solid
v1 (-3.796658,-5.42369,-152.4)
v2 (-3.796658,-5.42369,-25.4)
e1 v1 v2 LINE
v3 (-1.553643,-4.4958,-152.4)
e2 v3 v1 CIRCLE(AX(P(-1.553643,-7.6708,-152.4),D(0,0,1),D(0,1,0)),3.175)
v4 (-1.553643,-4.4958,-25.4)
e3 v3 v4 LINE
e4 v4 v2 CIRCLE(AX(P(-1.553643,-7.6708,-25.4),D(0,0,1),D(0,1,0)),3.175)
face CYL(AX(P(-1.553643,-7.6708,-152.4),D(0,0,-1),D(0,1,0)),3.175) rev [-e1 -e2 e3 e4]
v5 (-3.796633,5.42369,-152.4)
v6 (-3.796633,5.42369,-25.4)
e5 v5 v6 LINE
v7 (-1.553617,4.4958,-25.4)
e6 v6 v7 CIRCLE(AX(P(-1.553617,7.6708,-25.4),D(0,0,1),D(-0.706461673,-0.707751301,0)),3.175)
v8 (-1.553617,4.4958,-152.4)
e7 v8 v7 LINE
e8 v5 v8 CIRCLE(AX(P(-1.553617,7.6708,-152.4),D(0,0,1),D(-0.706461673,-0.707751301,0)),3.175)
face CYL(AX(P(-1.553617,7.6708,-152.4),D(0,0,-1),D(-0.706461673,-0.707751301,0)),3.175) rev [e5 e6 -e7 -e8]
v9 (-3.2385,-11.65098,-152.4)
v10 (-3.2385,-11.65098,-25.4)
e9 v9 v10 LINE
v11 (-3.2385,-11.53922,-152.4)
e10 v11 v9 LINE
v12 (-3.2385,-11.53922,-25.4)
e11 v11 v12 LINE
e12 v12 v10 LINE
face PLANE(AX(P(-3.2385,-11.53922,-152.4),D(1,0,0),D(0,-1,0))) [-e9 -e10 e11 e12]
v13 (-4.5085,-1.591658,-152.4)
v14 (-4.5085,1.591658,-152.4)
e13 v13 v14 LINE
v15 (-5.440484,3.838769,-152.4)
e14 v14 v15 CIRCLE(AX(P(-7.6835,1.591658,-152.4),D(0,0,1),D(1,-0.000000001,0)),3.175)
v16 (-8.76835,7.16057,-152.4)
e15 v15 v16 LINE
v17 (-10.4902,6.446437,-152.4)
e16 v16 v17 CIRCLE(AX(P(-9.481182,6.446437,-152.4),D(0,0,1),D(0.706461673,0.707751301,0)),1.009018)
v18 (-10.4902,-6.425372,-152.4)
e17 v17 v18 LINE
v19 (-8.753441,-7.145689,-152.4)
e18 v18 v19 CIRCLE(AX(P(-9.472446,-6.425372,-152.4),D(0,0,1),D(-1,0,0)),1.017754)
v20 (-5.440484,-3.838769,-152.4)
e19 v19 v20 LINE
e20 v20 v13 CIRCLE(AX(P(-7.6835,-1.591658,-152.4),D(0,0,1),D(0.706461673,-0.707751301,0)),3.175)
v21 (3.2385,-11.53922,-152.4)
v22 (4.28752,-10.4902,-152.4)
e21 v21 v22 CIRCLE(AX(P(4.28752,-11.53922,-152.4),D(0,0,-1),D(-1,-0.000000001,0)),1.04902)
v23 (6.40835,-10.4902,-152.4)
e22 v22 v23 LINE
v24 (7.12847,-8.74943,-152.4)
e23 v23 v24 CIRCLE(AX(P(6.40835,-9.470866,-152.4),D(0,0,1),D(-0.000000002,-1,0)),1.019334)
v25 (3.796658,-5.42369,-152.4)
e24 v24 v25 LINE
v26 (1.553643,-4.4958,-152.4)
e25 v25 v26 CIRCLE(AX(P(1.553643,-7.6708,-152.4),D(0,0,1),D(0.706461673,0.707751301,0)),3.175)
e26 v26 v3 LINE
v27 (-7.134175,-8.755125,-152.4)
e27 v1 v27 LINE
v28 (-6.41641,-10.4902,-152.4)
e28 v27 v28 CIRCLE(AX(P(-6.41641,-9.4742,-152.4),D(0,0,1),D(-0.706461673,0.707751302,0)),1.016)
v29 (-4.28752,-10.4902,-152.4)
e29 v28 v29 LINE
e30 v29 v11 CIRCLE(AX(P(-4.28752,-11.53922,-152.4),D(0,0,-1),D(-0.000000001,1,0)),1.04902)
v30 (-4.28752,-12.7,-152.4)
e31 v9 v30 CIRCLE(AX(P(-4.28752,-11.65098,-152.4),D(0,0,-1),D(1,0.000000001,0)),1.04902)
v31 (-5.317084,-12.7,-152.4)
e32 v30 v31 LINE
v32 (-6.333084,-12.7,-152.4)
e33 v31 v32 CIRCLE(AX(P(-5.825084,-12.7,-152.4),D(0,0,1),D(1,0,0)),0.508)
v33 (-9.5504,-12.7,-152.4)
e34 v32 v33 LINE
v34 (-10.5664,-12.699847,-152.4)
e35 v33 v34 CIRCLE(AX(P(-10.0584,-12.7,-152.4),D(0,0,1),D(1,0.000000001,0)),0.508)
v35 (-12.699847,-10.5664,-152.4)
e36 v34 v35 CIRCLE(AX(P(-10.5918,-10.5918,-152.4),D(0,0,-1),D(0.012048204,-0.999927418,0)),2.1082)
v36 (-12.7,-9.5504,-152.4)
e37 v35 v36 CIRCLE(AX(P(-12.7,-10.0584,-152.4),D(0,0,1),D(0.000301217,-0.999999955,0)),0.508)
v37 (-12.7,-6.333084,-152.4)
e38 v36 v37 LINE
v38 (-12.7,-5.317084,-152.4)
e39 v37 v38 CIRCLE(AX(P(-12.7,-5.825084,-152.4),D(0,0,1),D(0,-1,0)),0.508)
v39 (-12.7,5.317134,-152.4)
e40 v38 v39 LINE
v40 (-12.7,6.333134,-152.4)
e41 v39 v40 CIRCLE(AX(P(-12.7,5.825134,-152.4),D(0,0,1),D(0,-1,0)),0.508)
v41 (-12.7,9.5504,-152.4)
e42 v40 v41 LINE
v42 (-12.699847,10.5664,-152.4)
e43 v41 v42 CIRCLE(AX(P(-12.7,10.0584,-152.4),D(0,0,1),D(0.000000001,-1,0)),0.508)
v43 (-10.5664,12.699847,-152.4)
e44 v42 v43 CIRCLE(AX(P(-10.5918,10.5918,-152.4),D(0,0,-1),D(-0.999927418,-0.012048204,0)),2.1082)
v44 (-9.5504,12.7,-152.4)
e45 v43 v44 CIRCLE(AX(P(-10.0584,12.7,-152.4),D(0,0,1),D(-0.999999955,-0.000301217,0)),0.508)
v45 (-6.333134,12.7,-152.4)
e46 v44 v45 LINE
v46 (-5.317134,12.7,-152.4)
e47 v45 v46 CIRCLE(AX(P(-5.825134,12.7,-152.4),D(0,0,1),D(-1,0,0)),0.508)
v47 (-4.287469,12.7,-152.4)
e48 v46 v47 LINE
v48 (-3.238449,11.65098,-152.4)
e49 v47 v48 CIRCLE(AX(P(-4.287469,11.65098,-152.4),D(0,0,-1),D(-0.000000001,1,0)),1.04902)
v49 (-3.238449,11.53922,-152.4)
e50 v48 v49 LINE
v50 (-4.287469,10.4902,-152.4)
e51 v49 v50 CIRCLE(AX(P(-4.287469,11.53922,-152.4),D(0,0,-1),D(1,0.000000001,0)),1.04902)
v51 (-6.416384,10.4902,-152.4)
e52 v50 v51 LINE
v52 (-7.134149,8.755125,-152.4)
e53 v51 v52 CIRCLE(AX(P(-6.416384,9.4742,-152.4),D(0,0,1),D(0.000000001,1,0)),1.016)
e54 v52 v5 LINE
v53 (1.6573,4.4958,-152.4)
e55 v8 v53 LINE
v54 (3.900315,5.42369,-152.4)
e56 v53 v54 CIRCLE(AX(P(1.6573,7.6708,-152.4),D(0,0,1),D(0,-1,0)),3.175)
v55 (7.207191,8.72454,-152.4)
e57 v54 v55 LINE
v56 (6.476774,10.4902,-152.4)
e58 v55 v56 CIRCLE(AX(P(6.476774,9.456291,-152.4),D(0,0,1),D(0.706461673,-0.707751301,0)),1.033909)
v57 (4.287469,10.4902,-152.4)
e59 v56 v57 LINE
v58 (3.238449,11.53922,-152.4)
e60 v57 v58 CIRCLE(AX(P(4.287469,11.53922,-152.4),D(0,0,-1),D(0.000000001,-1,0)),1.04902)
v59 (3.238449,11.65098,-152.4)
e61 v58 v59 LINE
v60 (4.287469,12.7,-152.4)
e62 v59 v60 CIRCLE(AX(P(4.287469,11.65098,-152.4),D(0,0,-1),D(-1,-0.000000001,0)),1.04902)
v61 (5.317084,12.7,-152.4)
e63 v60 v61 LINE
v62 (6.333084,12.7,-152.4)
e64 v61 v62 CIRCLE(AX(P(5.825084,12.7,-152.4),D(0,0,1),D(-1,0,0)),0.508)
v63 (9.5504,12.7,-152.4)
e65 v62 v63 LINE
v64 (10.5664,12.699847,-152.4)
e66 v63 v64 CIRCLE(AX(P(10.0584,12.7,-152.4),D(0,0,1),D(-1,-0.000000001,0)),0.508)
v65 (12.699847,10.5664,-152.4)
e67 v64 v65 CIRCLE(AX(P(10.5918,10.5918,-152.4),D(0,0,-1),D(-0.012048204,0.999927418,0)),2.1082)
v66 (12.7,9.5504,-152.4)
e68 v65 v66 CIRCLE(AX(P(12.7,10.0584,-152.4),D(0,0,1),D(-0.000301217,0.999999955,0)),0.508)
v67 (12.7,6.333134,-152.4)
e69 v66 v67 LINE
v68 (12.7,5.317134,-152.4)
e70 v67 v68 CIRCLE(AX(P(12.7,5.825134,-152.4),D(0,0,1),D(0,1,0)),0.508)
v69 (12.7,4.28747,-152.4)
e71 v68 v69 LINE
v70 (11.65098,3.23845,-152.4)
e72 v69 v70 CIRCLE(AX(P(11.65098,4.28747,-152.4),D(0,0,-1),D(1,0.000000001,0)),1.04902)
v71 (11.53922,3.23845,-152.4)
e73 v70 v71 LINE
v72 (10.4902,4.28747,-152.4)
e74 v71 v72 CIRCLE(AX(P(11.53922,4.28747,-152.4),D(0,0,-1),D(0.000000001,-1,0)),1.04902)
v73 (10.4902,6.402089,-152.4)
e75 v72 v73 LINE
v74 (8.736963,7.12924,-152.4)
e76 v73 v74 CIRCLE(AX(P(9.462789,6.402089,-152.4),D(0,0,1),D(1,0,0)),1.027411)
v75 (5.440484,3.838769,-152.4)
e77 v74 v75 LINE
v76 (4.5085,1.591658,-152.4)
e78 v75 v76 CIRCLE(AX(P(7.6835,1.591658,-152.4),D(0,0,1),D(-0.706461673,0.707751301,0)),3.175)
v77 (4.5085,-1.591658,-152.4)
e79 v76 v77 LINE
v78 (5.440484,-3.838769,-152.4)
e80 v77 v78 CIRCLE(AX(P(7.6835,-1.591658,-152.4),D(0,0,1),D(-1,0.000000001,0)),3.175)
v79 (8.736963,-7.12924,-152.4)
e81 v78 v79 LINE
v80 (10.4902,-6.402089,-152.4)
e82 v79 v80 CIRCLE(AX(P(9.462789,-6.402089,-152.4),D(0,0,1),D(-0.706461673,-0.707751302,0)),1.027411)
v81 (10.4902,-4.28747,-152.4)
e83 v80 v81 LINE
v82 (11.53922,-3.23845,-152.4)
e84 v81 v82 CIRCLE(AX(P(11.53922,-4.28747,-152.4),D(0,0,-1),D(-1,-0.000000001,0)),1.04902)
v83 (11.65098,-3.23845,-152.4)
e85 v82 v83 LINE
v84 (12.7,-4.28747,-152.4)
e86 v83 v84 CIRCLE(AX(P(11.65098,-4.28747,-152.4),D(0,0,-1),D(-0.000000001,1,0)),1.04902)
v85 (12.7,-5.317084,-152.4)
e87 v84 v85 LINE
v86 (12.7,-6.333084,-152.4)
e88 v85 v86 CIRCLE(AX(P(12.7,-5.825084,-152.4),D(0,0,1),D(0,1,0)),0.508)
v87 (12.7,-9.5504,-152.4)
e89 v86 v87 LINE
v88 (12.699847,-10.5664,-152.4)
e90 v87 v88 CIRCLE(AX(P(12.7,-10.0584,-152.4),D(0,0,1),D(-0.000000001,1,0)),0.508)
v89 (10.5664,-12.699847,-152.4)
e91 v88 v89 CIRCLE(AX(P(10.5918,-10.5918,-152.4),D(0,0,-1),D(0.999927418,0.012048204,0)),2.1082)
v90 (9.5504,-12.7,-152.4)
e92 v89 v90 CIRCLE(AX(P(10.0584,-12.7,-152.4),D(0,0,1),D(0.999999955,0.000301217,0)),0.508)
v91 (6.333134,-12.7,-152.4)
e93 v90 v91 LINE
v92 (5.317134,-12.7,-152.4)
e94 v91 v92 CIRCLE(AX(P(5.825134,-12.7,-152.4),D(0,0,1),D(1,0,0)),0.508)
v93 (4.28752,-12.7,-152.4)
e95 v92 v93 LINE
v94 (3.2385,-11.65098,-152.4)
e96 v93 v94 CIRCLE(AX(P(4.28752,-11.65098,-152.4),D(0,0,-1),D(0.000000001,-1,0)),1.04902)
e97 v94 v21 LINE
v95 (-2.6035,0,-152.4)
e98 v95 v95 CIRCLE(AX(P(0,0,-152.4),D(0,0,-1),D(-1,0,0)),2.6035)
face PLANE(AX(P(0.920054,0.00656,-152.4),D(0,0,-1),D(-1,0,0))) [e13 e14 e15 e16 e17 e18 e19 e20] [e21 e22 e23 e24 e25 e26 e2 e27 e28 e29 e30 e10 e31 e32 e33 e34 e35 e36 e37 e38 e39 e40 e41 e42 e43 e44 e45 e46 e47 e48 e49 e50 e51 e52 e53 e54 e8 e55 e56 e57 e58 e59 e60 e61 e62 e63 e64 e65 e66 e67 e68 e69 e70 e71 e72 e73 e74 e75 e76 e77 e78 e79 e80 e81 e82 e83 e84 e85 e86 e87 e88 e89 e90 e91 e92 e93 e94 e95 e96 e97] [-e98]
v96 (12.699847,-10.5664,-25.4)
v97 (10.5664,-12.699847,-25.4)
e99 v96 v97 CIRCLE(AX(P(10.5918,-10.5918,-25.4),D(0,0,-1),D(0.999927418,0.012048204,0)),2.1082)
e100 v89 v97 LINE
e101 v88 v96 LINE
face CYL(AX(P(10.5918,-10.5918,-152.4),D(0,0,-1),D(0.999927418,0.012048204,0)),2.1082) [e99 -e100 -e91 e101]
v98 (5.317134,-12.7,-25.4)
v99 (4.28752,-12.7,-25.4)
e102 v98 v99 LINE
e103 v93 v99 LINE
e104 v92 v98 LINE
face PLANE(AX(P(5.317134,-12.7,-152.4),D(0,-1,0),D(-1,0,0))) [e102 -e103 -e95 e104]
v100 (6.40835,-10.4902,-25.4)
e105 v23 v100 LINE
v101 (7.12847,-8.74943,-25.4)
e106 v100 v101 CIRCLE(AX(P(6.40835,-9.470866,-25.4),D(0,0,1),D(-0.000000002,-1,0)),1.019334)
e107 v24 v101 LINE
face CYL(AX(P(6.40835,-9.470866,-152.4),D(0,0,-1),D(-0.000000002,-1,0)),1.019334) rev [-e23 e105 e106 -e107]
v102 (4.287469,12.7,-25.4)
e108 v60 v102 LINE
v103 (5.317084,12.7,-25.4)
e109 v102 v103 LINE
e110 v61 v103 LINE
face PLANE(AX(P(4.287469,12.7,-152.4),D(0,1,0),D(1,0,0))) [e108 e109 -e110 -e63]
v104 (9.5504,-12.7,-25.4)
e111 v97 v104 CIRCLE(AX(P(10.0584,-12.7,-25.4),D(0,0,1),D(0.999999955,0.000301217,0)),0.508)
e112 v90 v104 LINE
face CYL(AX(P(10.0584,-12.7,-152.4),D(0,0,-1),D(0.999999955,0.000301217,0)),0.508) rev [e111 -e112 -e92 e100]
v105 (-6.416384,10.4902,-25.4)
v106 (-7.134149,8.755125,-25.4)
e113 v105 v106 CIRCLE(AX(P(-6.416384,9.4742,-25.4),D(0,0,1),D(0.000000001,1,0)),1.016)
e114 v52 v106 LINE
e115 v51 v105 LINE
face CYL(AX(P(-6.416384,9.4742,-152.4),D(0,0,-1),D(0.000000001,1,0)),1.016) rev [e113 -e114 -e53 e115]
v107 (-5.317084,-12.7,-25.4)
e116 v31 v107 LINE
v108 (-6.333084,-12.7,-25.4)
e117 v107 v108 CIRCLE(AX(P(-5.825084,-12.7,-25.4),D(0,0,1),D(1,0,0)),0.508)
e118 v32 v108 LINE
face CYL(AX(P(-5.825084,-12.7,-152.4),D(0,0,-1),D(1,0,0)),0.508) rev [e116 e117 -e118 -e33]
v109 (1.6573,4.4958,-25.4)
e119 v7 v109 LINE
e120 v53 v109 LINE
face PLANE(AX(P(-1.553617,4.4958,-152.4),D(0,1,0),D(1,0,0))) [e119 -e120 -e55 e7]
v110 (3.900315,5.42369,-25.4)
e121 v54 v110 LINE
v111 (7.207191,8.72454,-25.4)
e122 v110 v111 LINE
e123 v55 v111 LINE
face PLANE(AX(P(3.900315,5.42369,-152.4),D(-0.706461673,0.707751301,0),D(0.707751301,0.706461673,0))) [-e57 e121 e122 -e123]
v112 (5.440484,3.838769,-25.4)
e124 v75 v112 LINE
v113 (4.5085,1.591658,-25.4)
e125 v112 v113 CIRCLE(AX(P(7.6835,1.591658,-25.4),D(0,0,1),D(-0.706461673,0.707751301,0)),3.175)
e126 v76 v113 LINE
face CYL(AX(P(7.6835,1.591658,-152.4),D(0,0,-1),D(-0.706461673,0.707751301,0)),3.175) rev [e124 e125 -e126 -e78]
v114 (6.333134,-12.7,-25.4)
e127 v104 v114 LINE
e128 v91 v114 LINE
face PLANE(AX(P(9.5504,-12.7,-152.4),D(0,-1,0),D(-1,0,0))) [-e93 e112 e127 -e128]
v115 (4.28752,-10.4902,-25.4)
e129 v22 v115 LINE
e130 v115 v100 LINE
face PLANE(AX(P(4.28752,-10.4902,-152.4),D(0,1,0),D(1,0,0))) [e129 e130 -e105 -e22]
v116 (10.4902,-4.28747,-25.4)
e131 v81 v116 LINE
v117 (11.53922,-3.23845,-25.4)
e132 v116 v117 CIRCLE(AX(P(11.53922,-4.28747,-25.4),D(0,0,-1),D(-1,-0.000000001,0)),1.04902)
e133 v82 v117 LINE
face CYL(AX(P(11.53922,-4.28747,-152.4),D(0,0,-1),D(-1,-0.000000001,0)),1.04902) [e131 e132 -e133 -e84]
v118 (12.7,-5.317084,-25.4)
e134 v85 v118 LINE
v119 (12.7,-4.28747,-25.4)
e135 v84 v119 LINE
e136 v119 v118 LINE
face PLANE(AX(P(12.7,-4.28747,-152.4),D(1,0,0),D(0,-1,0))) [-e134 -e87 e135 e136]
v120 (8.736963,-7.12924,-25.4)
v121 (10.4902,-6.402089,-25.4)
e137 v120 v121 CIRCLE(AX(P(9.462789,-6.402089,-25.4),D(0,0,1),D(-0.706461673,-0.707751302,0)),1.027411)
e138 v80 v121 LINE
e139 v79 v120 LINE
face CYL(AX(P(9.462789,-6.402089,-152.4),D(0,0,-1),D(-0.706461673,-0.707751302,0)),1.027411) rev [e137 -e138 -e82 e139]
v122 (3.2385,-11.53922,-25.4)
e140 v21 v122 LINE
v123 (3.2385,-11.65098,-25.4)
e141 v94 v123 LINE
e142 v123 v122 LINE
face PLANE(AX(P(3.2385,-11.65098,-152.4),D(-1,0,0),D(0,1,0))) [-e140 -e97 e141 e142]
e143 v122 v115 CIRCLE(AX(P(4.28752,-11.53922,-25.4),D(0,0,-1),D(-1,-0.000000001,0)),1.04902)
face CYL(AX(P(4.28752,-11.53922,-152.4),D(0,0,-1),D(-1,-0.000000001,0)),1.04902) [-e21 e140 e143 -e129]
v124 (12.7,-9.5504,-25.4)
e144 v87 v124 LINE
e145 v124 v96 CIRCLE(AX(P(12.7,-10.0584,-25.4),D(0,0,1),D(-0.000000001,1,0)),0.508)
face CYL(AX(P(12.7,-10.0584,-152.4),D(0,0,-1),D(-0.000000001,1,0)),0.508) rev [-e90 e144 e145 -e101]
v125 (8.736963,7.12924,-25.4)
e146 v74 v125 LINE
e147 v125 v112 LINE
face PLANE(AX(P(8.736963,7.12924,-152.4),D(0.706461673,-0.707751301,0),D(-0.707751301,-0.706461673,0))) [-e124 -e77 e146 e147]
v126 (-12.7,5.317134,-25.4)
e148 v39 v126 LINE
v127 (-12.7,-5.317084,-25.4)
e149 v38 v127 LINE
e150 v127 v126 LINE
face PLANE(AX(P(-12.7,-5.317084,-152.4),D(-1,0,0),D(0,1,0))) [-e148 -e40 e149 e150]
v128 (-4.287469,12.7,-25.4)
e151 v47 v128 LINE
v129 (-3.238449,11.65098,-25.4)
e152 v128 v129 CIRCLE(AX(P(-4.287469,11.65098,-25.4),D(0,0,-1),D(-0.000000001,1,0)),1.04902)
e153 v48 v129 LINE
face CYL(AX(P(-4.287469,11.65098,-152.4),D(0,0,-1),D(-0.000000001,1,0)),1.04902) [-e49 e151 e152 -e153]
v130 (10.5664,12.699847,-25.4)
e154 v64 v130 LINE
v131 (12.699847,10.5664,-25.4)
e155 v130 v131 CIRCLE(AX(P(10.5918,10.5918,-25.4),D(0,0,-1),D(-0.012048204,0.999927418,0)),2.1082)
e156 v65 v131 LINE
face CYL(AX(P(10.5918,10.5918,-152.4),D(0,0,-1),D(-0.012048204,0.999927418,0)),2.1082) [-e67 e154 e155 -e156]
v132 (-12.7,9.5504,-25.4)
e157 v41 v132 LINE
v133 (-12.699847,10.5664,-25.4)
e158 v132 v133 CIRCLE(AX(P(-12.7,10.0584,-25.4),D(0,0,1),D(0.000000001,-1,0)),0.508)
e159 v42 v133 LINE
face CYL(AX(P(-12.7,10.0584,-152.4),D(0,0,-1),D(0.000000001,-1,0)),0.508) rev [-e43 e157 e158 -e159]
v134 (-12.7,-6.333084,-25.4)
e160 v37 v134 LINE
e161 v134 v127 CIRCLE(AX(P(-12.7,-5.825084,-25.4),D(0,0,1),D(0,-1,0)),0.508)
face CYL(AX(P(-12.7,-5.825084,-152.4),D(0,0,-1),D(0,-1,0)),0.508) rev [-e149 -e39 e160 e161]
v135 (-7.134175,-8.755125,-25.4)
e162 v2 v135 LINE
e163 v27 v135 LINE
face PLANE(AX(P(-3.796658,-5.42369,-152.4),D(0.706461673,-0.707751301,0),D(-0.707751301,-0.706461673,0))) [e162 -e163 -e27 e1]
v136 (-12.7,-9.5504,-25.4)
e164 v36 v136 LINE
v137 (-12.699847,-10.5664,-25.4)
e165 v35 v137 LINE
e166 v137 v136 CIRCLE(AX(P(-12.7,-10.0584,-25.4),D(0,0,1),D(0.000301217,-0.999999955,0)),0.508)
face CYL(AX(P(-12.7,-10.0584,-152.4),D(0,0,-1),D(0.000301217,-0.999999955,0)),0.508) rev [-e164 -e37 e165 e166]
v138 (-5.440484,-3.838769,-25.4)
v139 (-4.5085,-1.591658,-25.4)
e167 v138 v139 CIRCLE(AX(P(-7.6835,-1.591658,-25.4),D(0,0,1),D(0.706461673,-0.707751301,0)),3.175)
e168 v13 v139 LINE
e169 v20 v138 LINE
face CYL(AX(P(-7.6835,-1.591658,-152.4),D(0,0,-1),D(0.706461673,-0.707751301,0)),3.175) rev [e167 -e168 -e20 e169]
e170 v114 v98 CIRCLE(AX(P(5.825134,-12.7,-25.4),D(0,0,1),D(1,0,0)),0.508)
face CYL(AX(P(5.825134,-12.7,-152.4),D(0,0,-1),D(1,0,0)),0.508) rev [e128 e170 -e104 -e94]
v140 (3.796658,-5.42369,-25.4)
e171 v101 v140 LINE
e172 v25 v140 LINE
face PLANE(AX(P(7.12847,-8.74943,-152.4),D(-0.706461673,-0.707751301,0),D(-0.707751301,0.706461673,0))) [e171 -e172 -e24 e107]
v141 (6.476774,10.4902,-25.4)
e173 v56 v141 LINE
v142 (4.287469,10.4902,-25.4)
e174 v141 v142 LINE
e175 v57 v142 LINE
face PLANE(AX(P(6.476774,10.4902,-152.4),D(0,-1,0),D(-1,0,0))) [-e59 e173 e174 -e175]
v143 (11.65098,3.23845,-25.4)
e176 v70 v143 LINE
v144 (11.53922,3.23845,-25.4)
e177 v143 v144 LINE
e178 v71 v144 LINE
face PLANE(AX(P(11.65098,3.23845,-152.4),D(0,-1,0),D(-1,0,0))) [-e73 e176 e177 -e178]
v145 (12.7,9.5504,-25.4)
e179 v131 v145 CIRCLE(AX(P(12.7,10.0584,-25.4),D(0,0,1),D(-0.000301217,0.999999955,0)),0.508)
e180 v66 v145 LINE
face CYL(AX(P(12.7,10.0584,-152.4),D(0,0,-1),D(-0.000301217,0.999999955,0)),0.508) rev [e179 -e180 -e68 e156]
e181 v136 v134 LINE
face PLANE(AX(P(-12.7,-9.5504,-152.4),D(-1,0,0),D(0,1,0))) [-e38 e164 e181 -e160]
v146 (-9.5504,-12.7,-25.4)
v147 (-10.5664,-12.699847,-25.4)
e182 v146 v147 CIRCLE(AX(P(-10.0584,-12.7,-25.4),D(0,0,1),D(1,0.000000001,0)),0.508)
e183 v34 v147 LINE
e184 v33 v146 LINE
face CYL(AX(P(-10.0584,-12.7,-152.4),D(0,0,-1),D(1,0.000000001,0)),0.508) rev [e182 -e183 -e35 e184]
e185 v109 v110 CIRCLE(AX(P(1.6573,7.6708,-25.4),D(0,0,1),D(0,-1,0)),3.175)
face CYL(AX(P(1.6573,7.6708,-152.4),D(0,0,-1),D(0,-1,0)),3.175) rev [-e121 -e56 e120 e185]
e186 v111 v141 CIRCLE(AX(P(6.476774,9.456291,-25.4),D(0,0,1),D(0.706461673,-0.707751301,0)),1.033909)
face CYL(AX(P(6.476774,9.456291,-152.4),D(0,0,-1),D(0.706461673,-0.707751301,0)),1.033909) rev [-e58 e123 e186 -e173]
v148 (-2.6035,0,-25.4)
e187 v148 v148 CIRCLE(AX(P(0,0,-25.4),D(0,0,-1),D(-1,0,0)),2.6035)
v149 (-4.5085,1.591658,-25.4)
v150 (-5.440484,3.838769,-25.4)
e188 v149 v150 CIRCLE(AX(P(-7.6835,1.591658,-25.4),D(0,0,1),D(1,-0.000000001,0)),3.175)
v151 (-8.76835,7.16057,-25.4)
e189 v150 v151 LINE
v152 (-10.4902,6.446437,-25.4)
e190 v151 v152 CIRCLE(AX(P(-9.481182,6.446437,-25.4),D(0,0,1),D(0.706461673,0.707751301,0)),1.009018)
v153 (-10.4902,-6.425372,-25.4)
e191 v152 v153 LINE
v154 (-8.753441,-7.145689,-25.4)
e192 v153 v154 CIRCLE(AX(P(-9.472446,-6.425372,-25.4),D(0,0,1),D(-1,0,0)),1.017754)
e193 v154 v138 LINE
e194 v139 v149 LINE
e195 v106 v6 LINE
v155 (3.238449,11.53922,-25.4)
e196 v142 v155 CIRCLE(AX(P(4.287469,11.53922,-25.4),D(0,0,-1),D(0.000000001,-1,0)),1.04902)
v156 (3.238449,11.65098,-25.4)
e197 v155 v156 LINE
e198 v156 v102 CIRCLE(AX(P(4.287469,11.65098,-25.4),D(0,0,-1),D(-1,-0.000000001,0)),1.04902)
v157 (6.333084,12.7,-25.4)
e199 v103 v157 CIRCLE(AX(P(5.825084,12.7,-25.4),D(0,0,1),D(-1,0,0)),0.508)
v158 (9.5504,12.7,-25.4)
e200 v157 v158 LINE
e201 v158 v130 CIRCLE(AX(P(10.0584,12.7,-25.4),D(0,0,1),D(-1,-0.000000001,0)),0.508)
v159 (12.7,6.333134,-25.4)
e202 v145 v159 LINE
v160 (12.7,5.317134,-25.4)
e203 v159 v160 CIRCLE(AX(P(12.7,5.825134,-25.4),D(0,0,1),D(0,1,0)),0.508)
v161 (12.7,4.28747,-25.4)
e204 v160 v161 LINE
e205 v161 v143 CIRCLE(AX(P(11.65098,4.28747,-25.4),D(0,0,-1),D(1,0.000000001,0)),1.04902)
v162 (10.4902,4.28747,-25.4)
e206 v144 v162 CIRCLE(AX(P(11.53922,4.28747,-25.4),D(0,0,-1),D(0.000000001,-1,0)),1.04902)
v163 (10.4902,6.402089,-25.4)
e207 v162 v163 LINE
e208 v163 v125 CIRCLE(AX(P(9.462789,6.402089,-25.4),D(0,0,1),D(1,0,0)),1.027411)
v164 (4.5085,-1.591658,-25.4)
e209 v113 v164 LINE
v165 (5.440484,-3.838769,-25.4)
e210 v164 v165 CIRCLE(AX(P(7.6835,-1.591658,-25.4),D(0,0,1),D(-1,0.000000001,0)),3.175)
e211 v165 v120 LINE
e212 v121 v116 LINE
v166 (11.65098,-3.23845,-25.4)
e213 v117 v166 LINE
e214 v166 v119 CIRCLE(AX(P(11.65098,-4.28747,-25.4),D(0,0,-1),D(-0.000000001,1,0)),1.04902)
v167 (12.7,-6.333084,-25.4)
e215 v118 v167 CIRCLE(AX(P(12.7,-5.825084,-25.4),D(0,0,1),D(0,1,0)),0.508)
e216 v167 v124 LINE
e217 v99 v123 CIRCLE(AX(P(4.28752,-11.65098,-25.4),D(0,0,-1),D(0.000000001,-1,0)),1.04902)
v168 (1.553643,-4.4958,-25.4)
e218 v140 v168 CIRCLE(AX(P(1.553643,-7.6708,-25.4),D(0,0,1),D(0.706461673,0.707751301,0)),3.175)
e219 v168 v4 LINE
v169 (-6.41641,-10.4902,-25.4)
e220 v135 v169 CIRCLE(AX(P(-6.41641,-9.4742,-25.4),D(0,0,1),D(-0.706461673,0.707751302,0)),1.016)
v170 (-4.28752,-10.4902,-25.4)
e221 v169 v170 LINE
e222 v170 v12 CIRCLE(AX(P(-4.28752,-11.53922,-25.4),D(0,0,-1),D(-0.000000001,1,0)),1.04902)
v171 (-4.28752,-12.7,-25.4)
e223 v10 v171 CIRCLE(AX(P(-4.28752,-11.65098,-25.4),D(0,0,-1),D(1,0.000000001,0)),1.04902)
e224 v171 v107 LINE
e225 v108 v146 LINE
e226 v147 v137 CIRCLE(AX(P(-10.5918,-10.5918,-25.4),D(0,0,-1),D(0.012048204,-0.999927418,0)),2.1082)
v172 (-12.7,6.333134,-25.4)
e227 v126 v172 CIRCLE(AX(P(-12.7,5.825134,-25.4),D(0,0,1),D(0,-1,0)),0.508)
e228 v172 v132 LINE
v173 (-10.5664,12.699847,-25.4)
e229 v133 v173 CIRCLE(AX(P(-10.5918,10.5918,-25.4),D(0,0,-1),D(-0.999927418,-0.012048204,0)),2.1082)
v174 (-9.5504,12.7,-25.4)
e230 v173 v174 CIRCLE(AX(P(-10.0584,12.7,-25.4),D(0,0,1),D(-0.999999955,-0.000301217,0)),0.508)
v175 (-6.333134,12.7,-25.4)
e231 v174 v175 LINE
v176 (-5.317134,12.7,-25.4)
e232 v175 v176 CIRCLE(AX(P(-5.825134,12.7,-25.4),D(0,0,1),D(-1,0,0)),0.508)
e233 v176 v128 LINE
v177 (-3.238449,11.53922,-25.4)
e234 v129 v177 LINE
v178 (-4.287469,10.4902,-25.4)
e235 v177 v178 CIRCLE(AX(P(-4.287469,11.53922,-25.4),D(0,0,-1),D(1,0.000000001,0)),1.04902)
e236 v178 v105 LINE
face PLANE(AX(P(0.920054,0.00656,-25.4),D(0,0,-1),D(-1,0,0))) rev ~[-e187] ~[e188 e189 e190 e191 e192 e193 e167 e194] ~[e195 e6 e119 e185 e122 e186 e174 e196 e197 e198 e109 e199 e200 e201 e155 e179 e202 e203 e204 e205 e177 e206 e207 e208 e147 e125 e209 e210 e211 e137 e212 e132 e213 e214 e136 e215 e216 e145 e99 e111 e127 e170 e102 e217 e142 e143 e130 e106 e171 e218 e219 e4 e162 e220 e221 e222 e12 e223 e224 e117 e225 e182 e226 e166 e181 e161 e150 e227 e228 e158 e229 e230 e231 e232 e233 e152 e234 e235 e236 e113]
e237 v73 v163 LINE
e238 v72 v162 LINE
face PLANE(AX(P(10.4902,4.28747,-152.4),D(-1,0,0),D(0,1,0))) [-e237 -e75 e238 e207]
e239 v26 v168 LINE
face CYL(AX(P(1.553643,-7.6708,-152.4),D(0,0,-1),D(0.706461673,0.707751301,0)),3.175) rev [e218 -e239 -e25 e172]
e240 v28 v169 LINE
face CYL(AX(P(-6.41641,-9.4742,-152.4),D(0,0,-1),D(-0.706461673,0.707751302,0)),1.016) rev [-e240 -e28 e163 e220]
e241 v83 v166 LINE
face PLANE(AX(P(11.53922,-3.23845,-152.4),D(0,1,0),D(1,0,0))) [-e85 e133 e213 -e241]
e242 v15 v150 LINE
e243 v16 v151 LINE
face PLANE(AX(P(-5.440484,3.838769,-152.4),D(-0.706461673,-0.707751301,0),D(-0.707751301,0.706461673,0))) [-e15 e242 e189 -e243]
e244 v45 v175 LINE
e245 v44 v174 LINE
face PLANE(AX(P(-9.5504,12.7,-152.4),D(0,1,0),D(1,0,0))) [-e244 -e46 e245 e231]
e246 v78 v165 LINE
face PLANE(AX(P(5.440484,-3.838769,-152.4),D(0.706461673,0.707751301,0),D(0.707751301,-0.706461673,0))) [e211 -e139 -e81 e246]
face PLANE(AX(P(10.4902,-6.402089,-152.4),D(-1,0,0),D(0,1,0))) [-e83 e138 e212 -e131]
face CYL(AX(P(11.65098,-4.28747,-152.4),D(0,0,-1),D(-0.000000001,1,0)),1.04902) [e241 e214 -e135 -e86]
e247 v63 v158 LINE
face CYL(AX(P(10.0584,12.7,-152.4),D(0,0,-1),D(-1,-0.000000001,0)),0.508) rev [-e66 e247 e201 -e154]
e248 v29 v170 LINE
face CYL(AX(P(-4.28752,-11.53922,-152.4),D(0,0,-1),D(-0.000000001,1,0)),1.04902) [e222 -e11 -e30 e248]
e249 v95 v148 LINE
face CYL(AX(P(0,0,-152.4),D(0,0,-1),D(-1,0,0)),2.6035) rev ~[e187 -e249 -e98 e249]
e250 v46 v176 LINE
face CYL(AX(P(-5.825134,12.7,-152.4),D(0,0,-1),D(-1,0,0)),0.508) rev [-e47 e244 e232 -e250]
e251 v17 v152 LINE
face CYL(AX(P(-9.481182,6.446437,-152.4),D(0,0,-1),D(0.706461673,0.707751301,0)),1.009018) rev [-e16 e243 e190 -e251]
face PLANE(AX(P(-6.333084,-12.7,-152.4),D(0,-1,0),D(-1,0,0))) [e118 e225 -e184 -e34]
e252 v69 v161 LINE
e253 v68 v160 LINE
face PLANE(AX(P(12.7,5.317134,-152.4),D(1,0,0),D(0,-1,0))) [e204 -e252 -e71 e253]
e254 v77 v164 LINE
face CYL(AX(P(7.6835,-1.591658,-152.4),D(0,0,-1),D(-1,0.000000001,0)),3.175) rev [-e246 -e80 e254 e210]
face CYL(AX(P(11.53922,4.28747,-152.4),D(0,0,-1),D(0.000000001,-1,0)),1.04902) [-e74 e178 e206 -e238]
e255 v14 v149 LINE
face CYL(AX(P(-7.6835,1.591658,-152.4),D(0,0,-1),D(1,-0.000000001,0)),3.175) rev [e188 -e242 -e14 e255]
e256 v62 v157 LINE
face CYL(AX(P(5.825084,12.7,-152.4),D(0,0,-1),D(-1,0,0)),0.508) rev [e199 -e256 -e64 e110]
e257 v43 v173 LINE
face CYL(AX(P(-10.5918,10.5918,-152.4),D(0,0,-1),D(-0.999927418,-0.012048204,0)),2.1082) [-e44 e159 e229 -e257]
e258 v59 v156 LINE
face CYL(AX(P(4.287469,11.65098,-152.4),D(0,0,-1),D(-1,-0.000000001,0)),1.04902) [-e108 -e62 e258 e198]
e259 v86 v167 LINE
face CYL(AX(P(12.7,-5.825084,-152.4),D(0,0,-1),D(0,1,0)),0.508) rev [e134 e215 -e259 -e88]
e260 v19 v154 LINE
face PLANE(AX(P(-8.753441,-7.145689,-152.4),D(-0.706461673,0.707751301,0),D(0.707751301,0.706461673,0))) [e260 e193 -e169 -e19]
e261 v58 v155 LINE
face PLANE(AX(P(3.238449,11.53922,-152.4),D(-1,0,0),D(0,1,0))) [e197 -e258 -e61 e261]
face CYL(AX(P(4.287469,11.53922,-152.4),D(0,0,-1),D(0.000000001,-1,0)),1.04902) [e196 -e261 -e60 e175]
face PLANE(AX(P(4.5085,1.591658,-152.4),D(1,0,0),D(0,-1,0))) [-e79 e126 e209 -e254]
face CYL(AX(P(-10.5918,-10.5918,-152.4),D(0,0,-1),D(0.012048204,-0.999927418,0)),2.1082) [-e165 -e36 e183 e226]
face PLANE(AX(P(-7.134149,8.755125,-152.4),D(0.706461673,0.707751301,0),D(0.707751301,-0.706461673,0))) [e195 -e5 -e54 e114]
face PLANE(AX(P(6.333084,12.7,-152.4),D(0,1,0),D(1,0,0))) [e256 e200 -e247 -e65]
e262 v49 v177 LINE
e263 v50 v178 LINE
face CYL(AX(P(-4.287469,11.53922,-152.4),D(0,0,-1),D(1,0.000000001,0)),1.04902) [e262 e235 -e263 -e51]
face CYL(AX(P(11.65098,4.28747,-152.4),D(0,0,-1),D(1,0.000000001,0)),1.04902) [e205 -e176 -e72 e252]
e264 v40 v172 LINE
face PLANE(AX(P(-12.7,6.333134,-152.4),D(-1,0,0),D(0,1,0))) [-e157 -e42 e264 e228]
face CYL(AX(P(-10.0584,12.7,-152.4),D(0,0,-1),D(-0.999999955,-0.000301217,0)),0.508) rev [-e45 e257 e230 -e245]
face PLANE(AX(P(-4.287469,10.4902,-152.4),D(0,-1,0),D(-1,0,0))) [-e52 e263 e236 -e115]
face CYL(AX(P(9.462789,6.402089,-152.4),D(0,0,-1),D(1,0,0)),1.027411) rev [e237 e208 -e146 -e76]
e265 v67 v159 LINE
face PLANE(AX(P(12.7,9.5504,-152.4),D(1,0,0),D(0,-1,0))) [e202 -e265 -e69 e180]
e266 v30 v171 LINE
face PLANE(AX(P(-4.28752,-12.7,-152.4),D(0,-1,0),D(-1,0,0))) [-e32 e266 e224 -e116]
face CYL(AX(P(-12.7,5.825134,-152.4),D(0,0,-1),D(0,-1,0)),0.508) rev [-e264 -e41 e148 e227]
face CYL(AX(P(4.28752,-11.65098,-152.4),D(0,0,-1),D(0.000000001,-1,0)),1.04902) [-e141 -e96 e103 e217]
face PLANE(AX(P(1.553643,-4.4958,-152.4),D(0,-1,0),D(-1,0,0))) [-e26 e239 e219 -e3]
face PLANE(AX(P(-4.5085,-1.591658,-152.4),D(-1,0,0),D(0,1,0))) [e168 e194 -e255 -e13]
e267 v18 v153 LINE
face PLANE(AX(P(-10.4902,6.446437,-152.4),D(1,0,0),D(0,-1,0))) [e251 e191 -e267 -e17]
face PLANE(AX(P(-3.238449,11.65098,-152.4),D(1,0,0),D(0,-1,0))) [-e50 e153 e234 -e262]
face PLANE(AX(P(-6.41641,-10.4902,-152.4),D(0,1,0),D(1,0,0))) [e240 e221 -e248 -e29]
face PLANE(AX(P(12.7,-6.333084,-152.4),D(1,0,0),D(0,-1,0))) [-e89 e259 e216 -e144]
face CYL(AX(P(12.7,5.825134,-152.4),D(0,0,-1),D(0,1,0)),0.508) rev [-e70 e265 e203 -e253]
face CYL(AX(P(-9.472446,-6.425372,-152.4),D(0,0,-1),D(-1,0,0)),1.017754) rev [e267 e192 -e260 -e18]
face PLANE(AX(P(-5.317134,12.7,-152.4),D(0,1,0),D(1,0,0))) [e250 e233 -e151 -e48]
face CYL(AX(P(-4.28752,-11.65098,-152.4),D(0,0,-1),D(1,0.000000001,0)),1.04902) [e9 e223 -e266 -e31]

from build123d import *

# Parameters (mm, degrees)
SKETCH1_R           = 2.6035
BOSS_EXTRUDE1_DEPTH = 127


with BuildPart() as part:
    # Sketch1 → Boss-Extrude1 (new body)
    with BuildSketch(Plane(origin=(0, 0, -152.4), x_dir=(-1, 0, 0), z_dir=(0, 0, -1))):
        with BuildLine():
            Line((6.416409763, -10.4902), (4.28752, -10.4902))
            ThreePointArc((4.28752, -10.4902), (3.545750844, -10.797450844), (3.2385, -11.53922))
            Line((3.2385, -11.53922), (3.2385, -11.65098))
            ThreePointArc((3.2385, -11.65098), (3.545750844, -12.392749156), (4.28752, -12.7))
            Line((4.28752, -12.7), (5.3170836, -12.7))
            ThreePointArc((5.3170836, -12.7), (5.8250836, -12.192), (6.3330836, -12.7))
            Line((6.3330836, -12.7), (9.5504, -12.7))
            ThreePointArc((9.5504, -12.7), (10.058323491, -12.192000006), (10.566399977, -12.699846982))
            ThreePointArc((10.566399977, -12.699846982), (12.082522516, -12.082522516), (12.699846982, -10.566399977))
            ThreePointArc((12.699846982, -10.566399977), (12.192000006, -10.058323491), (12.7, -9.5504))
            Line((12.7, -9.5504), (12.7, -6.3330836))
            ThreePointArc((12.7, -6.3330836), (12.192, -5.8250836), (12.7, -5.3170836))
            Line((12.7, -5.3170836), (12.7, 5.3171344))
            ThreePointArc((12.7, 5.3171344), (12.192, 5.8251344), (12.7, 6.3331344))
            Line((12.7, 6.3331344), (12.7, 9.5504))
            ThreePointArc((12.7, 9.5504), (12.192000006, 10.058323491), (12.699846982, 10.566399977))
            ThreePointArc((12.699846982, 10.566399977), (12.082522516, 12.082522516), (10.566399977, 12.699846982))
            ThreePointArc((10.566399977, 12.699846982), (10.058323491, 12.192000006), (9.5504, 12.7))
            Line((9.5504, 12.7), (6.3331344, 12.7))
            ThreePointArc((6.3331344, 12.7), (5.8251344, 12.192), (5.3171344, 12.7))
            Line((5.3171344, 12.7), (4.2874692, 12.7))
            ThreePointArc((4.2874692, 12.7), (3.545700044, 12.392749156), (3.2384492, 11.65098))
            Line((3.2384492, 11.65098), (3.2384492, 11.53922))
            ThreePointArc((3.2384492, 11.53922), (3.545700044, 10.797450844), (4.2874692, 10.4902))
            Line((4.2874692, 10.4902), (6.416384363, 10.4902))
            ThreePointArc((6.416384363, 10.4902), (7.355223148, 9.862578342), (7.134149423, 8.755124678))
            Line((7.134149423, 8.755124678), (3.796632915, 5.423689619))
            ThreePointArc((3.796632915, 5.423689619), (2.767299421, 4.736928798), (1.553617102, 4.4958))
            Line((1.553617102, 4.4958), (-1.657299581, 4.4958))
            ThreePointArc((-1.657299581, 4.4958), (-2.8709819, 4.736928798), (-3.900315394, 5.423689619))
            Line((-3.900315394, 5.423689619), (-7.207191475, 8.724540082))
            ThreePointArc((-7.207191475, 8.724540082), (-7.43216212, 9.851515102), (-6.476774195, 10.4902))
            Line((-6.476774195, 10.4902), (-4.2874692, 10.4902))
            ThreePointArc((-4.2874692, 10.4902), (-3.545700044, 10.797450844), (-3.2384492, 11.53922))
            Line((-3.2384492, 11.53922), (-3.2384492, 11.65098))
            ThreePointArc((-3.2384492, 11.65098), (-3.545700044, 12.392749156), (-4.2874692, 12.7))
            Line((-4.2874692, 12.7), (-5.3170836, 12.7))
            ThreePointArc((-5.3170836, 12.7), (-5.8250836, 12.192), (-6.3330836, 12.7))
            Line((-6.3330836, 12.7), (-9.5504, 12.7))
            ThreePointArc((-9.5504, 12.7), (-10.058323491, 12.192000006), (-10.566399977, 12.699846982))
            ThreePointArc((-10.566399977, 12.699846982), (-12.082522516, 12.082522516), (-12.699846982, 10.566399977))
            ThreePointArc((-12.699846982, 10.566399977), (-12.192000006, 10.058323491), (-12.7, 9.5504))
            Line((-12.7, 9.5504), (-12.7, 6.3331344))
            ThreePointArc((-12.7, 6.3331344), (-12.192, 5.8251344), (-12.7, 5.3171344))
            Line((-12.7, 5.3171344), (-12.7, 4.287470133))
            ThreePointArc((-12.7, 4.287470133), (-12.392749156, 3.545700977), (-11.65098, 3.238450133))
            Line((-11.65098, 3.238450133), (-11.53922, 3.238450133))
            ThreePointArc((-11.53922, 3.238450133), (-10.797450844, 3.545700977), (-10.4902, 4.287470133))
            Line((-10.4902, 4.287470133), (-10.4902, 6.402089023))
            ThreePointArc((-10.4902, 6.402089023), (-9.856394933, 7.351113629), (-8.736962546, 7.129240479))
            Line((-8.736962546, 7.129240479), (-5.440484187, 3.838768792))
            ThreePointArc((-5.440484187, 3.838768792), (-4.75073678, 2.808015636), (-4.5085, 1.591658411))
            Line((-4.5085, 1.591658411), (-4.5085, -1.591658411))
            ThreePointArc((-4.5085, -1.591658411), (-4.75073678, -2.808015636), (-5.440484187, -3.838768792))
            Line((-5.440484187, -3.838768792), (-8.736962546, -7.129240479))
            ThreePointArc((-8.736962546, -7.129240479), (-9.856394933, -7.351113629), (-10.4902, -6.402089023))
            Line((-10.4902, -6.402089023), (-10.4902, -4.287470133))
            ThreePointArc((-10.4902, -4.287470133), (-10.797450844, -3.545700977), (-11.53922, -3.238450133))
            Line((-11.53922, -3.238450133), (-11.65098, -3.238450133))
            ThreePointArc((-11.65098, -3.238450133), (-12.392749156, -3.545700977), (-12.7, -4.287470133))
            Line((-12.7, -4.287470133), (-12.7, -5.3170836))
            ThreePointArc((-12.7, -5.3170836), (-12.192, -5.8250836), (-12.7, -6.3330836))
            Line((-12.7, -6.3330836), (-12.7, -9.5504))
            ThreePointArc((-12.7, -9.5504), (-12.192000006, -10.058323491), (-12.699846982, -10.566399977))
            ThreePointArc((-12.699846982, -10.566399977), (-12.082522516, -12.082522516), (-10.566399977, -12.699846982))
            ThreePointArc((-10.566399977, -12.699846982), (-10.058323491, -12.192000006), (-9.5504, -12.7))
            Line((-9.5504, -12.7), (-6.3331344, -12.7))
            ThreePointArc((-6.3331344, -12.7), (-5.8251344, -12.192), (-5.3171344, -12.7))
            Line((-5.3171344, -12.7), (-4.28752, -12.7))
            ThreePointArc((-4.28752, -12.7), (-3.545750844, -12.392749156), (-3.2385, -11.65098))
            Line((-3.2385, -11.65098), (-3.2385, -11.53922))
            ThreePointArc((-3.2385, -11.53922), (-3.545750844, -10.797450844), (-4.28752, -10.4902))
            Line((-4.28752, -10.4902), (-6.40834956, -10.4902))
            ThreePointArc((-6.40834956, -10.4902), (-7.350269456, -9.860518594), (-7.128470204, -8.749430454))
            Line((-7.128470204, -8.749430454), (-3.796658315, -5.423689619))
            ThreePointArc((-3.796658315, -5.423689619), (-2.767324821, -4.736928798), (-1.553642502, -4.4958))
            Line((-1.553642502, -4.4958), (1.553642502, -4.4958))
            ThreePointArc((1.553642502, -4.4958), (2.767324821, -4.736928798), (3.796658315, -5.423689619))
            Line((3.796658315, -5.423689619), (7.134174823, -8.755124678))
            ThreePointArc((7.134174823, -8.755124678), (7.355248548, -9.862578342), (6.416409763, -10.4902))
        make_face()
        Circle(SKETCH1_R, mode=Mode.SUBTRACT)
        with BuildLine():
            Line((10.4902, 6.446436794), (10.4902, -6.425372487))
            ThreePointArc((10.4902, -6.425372487), (9.862352148, -7.36547709), (8.753441447, -7.145689354))
            Line((8.753441447, -7.145689354), (5.440484187, -3.838768792))
            ThreePointArc((5.440484187, -3.838768792), (4.75073678, -2.808015636), (4.5085, -1.591658411))
            Line((4.5085, -1.591658411), (4.5085, 1.591658411))
            ThreePointArc((4.5085, 1.591658411), (4.75073678, 2.808015636), (5.440484187, 3.838768792))
            Line((5.440484187, 3.838768792), (8.768349738, 7.160570479))
            ThreePointArc((8.768349738, 7.160570479), (9.867741577, 7.378471563), (10.4902, 6.446436794))
        make_face(mode=Mode.SUBTRACT)
    extrude(amount=-BOSS_EXTRUDE1_DEPTH)


solid = part.part
